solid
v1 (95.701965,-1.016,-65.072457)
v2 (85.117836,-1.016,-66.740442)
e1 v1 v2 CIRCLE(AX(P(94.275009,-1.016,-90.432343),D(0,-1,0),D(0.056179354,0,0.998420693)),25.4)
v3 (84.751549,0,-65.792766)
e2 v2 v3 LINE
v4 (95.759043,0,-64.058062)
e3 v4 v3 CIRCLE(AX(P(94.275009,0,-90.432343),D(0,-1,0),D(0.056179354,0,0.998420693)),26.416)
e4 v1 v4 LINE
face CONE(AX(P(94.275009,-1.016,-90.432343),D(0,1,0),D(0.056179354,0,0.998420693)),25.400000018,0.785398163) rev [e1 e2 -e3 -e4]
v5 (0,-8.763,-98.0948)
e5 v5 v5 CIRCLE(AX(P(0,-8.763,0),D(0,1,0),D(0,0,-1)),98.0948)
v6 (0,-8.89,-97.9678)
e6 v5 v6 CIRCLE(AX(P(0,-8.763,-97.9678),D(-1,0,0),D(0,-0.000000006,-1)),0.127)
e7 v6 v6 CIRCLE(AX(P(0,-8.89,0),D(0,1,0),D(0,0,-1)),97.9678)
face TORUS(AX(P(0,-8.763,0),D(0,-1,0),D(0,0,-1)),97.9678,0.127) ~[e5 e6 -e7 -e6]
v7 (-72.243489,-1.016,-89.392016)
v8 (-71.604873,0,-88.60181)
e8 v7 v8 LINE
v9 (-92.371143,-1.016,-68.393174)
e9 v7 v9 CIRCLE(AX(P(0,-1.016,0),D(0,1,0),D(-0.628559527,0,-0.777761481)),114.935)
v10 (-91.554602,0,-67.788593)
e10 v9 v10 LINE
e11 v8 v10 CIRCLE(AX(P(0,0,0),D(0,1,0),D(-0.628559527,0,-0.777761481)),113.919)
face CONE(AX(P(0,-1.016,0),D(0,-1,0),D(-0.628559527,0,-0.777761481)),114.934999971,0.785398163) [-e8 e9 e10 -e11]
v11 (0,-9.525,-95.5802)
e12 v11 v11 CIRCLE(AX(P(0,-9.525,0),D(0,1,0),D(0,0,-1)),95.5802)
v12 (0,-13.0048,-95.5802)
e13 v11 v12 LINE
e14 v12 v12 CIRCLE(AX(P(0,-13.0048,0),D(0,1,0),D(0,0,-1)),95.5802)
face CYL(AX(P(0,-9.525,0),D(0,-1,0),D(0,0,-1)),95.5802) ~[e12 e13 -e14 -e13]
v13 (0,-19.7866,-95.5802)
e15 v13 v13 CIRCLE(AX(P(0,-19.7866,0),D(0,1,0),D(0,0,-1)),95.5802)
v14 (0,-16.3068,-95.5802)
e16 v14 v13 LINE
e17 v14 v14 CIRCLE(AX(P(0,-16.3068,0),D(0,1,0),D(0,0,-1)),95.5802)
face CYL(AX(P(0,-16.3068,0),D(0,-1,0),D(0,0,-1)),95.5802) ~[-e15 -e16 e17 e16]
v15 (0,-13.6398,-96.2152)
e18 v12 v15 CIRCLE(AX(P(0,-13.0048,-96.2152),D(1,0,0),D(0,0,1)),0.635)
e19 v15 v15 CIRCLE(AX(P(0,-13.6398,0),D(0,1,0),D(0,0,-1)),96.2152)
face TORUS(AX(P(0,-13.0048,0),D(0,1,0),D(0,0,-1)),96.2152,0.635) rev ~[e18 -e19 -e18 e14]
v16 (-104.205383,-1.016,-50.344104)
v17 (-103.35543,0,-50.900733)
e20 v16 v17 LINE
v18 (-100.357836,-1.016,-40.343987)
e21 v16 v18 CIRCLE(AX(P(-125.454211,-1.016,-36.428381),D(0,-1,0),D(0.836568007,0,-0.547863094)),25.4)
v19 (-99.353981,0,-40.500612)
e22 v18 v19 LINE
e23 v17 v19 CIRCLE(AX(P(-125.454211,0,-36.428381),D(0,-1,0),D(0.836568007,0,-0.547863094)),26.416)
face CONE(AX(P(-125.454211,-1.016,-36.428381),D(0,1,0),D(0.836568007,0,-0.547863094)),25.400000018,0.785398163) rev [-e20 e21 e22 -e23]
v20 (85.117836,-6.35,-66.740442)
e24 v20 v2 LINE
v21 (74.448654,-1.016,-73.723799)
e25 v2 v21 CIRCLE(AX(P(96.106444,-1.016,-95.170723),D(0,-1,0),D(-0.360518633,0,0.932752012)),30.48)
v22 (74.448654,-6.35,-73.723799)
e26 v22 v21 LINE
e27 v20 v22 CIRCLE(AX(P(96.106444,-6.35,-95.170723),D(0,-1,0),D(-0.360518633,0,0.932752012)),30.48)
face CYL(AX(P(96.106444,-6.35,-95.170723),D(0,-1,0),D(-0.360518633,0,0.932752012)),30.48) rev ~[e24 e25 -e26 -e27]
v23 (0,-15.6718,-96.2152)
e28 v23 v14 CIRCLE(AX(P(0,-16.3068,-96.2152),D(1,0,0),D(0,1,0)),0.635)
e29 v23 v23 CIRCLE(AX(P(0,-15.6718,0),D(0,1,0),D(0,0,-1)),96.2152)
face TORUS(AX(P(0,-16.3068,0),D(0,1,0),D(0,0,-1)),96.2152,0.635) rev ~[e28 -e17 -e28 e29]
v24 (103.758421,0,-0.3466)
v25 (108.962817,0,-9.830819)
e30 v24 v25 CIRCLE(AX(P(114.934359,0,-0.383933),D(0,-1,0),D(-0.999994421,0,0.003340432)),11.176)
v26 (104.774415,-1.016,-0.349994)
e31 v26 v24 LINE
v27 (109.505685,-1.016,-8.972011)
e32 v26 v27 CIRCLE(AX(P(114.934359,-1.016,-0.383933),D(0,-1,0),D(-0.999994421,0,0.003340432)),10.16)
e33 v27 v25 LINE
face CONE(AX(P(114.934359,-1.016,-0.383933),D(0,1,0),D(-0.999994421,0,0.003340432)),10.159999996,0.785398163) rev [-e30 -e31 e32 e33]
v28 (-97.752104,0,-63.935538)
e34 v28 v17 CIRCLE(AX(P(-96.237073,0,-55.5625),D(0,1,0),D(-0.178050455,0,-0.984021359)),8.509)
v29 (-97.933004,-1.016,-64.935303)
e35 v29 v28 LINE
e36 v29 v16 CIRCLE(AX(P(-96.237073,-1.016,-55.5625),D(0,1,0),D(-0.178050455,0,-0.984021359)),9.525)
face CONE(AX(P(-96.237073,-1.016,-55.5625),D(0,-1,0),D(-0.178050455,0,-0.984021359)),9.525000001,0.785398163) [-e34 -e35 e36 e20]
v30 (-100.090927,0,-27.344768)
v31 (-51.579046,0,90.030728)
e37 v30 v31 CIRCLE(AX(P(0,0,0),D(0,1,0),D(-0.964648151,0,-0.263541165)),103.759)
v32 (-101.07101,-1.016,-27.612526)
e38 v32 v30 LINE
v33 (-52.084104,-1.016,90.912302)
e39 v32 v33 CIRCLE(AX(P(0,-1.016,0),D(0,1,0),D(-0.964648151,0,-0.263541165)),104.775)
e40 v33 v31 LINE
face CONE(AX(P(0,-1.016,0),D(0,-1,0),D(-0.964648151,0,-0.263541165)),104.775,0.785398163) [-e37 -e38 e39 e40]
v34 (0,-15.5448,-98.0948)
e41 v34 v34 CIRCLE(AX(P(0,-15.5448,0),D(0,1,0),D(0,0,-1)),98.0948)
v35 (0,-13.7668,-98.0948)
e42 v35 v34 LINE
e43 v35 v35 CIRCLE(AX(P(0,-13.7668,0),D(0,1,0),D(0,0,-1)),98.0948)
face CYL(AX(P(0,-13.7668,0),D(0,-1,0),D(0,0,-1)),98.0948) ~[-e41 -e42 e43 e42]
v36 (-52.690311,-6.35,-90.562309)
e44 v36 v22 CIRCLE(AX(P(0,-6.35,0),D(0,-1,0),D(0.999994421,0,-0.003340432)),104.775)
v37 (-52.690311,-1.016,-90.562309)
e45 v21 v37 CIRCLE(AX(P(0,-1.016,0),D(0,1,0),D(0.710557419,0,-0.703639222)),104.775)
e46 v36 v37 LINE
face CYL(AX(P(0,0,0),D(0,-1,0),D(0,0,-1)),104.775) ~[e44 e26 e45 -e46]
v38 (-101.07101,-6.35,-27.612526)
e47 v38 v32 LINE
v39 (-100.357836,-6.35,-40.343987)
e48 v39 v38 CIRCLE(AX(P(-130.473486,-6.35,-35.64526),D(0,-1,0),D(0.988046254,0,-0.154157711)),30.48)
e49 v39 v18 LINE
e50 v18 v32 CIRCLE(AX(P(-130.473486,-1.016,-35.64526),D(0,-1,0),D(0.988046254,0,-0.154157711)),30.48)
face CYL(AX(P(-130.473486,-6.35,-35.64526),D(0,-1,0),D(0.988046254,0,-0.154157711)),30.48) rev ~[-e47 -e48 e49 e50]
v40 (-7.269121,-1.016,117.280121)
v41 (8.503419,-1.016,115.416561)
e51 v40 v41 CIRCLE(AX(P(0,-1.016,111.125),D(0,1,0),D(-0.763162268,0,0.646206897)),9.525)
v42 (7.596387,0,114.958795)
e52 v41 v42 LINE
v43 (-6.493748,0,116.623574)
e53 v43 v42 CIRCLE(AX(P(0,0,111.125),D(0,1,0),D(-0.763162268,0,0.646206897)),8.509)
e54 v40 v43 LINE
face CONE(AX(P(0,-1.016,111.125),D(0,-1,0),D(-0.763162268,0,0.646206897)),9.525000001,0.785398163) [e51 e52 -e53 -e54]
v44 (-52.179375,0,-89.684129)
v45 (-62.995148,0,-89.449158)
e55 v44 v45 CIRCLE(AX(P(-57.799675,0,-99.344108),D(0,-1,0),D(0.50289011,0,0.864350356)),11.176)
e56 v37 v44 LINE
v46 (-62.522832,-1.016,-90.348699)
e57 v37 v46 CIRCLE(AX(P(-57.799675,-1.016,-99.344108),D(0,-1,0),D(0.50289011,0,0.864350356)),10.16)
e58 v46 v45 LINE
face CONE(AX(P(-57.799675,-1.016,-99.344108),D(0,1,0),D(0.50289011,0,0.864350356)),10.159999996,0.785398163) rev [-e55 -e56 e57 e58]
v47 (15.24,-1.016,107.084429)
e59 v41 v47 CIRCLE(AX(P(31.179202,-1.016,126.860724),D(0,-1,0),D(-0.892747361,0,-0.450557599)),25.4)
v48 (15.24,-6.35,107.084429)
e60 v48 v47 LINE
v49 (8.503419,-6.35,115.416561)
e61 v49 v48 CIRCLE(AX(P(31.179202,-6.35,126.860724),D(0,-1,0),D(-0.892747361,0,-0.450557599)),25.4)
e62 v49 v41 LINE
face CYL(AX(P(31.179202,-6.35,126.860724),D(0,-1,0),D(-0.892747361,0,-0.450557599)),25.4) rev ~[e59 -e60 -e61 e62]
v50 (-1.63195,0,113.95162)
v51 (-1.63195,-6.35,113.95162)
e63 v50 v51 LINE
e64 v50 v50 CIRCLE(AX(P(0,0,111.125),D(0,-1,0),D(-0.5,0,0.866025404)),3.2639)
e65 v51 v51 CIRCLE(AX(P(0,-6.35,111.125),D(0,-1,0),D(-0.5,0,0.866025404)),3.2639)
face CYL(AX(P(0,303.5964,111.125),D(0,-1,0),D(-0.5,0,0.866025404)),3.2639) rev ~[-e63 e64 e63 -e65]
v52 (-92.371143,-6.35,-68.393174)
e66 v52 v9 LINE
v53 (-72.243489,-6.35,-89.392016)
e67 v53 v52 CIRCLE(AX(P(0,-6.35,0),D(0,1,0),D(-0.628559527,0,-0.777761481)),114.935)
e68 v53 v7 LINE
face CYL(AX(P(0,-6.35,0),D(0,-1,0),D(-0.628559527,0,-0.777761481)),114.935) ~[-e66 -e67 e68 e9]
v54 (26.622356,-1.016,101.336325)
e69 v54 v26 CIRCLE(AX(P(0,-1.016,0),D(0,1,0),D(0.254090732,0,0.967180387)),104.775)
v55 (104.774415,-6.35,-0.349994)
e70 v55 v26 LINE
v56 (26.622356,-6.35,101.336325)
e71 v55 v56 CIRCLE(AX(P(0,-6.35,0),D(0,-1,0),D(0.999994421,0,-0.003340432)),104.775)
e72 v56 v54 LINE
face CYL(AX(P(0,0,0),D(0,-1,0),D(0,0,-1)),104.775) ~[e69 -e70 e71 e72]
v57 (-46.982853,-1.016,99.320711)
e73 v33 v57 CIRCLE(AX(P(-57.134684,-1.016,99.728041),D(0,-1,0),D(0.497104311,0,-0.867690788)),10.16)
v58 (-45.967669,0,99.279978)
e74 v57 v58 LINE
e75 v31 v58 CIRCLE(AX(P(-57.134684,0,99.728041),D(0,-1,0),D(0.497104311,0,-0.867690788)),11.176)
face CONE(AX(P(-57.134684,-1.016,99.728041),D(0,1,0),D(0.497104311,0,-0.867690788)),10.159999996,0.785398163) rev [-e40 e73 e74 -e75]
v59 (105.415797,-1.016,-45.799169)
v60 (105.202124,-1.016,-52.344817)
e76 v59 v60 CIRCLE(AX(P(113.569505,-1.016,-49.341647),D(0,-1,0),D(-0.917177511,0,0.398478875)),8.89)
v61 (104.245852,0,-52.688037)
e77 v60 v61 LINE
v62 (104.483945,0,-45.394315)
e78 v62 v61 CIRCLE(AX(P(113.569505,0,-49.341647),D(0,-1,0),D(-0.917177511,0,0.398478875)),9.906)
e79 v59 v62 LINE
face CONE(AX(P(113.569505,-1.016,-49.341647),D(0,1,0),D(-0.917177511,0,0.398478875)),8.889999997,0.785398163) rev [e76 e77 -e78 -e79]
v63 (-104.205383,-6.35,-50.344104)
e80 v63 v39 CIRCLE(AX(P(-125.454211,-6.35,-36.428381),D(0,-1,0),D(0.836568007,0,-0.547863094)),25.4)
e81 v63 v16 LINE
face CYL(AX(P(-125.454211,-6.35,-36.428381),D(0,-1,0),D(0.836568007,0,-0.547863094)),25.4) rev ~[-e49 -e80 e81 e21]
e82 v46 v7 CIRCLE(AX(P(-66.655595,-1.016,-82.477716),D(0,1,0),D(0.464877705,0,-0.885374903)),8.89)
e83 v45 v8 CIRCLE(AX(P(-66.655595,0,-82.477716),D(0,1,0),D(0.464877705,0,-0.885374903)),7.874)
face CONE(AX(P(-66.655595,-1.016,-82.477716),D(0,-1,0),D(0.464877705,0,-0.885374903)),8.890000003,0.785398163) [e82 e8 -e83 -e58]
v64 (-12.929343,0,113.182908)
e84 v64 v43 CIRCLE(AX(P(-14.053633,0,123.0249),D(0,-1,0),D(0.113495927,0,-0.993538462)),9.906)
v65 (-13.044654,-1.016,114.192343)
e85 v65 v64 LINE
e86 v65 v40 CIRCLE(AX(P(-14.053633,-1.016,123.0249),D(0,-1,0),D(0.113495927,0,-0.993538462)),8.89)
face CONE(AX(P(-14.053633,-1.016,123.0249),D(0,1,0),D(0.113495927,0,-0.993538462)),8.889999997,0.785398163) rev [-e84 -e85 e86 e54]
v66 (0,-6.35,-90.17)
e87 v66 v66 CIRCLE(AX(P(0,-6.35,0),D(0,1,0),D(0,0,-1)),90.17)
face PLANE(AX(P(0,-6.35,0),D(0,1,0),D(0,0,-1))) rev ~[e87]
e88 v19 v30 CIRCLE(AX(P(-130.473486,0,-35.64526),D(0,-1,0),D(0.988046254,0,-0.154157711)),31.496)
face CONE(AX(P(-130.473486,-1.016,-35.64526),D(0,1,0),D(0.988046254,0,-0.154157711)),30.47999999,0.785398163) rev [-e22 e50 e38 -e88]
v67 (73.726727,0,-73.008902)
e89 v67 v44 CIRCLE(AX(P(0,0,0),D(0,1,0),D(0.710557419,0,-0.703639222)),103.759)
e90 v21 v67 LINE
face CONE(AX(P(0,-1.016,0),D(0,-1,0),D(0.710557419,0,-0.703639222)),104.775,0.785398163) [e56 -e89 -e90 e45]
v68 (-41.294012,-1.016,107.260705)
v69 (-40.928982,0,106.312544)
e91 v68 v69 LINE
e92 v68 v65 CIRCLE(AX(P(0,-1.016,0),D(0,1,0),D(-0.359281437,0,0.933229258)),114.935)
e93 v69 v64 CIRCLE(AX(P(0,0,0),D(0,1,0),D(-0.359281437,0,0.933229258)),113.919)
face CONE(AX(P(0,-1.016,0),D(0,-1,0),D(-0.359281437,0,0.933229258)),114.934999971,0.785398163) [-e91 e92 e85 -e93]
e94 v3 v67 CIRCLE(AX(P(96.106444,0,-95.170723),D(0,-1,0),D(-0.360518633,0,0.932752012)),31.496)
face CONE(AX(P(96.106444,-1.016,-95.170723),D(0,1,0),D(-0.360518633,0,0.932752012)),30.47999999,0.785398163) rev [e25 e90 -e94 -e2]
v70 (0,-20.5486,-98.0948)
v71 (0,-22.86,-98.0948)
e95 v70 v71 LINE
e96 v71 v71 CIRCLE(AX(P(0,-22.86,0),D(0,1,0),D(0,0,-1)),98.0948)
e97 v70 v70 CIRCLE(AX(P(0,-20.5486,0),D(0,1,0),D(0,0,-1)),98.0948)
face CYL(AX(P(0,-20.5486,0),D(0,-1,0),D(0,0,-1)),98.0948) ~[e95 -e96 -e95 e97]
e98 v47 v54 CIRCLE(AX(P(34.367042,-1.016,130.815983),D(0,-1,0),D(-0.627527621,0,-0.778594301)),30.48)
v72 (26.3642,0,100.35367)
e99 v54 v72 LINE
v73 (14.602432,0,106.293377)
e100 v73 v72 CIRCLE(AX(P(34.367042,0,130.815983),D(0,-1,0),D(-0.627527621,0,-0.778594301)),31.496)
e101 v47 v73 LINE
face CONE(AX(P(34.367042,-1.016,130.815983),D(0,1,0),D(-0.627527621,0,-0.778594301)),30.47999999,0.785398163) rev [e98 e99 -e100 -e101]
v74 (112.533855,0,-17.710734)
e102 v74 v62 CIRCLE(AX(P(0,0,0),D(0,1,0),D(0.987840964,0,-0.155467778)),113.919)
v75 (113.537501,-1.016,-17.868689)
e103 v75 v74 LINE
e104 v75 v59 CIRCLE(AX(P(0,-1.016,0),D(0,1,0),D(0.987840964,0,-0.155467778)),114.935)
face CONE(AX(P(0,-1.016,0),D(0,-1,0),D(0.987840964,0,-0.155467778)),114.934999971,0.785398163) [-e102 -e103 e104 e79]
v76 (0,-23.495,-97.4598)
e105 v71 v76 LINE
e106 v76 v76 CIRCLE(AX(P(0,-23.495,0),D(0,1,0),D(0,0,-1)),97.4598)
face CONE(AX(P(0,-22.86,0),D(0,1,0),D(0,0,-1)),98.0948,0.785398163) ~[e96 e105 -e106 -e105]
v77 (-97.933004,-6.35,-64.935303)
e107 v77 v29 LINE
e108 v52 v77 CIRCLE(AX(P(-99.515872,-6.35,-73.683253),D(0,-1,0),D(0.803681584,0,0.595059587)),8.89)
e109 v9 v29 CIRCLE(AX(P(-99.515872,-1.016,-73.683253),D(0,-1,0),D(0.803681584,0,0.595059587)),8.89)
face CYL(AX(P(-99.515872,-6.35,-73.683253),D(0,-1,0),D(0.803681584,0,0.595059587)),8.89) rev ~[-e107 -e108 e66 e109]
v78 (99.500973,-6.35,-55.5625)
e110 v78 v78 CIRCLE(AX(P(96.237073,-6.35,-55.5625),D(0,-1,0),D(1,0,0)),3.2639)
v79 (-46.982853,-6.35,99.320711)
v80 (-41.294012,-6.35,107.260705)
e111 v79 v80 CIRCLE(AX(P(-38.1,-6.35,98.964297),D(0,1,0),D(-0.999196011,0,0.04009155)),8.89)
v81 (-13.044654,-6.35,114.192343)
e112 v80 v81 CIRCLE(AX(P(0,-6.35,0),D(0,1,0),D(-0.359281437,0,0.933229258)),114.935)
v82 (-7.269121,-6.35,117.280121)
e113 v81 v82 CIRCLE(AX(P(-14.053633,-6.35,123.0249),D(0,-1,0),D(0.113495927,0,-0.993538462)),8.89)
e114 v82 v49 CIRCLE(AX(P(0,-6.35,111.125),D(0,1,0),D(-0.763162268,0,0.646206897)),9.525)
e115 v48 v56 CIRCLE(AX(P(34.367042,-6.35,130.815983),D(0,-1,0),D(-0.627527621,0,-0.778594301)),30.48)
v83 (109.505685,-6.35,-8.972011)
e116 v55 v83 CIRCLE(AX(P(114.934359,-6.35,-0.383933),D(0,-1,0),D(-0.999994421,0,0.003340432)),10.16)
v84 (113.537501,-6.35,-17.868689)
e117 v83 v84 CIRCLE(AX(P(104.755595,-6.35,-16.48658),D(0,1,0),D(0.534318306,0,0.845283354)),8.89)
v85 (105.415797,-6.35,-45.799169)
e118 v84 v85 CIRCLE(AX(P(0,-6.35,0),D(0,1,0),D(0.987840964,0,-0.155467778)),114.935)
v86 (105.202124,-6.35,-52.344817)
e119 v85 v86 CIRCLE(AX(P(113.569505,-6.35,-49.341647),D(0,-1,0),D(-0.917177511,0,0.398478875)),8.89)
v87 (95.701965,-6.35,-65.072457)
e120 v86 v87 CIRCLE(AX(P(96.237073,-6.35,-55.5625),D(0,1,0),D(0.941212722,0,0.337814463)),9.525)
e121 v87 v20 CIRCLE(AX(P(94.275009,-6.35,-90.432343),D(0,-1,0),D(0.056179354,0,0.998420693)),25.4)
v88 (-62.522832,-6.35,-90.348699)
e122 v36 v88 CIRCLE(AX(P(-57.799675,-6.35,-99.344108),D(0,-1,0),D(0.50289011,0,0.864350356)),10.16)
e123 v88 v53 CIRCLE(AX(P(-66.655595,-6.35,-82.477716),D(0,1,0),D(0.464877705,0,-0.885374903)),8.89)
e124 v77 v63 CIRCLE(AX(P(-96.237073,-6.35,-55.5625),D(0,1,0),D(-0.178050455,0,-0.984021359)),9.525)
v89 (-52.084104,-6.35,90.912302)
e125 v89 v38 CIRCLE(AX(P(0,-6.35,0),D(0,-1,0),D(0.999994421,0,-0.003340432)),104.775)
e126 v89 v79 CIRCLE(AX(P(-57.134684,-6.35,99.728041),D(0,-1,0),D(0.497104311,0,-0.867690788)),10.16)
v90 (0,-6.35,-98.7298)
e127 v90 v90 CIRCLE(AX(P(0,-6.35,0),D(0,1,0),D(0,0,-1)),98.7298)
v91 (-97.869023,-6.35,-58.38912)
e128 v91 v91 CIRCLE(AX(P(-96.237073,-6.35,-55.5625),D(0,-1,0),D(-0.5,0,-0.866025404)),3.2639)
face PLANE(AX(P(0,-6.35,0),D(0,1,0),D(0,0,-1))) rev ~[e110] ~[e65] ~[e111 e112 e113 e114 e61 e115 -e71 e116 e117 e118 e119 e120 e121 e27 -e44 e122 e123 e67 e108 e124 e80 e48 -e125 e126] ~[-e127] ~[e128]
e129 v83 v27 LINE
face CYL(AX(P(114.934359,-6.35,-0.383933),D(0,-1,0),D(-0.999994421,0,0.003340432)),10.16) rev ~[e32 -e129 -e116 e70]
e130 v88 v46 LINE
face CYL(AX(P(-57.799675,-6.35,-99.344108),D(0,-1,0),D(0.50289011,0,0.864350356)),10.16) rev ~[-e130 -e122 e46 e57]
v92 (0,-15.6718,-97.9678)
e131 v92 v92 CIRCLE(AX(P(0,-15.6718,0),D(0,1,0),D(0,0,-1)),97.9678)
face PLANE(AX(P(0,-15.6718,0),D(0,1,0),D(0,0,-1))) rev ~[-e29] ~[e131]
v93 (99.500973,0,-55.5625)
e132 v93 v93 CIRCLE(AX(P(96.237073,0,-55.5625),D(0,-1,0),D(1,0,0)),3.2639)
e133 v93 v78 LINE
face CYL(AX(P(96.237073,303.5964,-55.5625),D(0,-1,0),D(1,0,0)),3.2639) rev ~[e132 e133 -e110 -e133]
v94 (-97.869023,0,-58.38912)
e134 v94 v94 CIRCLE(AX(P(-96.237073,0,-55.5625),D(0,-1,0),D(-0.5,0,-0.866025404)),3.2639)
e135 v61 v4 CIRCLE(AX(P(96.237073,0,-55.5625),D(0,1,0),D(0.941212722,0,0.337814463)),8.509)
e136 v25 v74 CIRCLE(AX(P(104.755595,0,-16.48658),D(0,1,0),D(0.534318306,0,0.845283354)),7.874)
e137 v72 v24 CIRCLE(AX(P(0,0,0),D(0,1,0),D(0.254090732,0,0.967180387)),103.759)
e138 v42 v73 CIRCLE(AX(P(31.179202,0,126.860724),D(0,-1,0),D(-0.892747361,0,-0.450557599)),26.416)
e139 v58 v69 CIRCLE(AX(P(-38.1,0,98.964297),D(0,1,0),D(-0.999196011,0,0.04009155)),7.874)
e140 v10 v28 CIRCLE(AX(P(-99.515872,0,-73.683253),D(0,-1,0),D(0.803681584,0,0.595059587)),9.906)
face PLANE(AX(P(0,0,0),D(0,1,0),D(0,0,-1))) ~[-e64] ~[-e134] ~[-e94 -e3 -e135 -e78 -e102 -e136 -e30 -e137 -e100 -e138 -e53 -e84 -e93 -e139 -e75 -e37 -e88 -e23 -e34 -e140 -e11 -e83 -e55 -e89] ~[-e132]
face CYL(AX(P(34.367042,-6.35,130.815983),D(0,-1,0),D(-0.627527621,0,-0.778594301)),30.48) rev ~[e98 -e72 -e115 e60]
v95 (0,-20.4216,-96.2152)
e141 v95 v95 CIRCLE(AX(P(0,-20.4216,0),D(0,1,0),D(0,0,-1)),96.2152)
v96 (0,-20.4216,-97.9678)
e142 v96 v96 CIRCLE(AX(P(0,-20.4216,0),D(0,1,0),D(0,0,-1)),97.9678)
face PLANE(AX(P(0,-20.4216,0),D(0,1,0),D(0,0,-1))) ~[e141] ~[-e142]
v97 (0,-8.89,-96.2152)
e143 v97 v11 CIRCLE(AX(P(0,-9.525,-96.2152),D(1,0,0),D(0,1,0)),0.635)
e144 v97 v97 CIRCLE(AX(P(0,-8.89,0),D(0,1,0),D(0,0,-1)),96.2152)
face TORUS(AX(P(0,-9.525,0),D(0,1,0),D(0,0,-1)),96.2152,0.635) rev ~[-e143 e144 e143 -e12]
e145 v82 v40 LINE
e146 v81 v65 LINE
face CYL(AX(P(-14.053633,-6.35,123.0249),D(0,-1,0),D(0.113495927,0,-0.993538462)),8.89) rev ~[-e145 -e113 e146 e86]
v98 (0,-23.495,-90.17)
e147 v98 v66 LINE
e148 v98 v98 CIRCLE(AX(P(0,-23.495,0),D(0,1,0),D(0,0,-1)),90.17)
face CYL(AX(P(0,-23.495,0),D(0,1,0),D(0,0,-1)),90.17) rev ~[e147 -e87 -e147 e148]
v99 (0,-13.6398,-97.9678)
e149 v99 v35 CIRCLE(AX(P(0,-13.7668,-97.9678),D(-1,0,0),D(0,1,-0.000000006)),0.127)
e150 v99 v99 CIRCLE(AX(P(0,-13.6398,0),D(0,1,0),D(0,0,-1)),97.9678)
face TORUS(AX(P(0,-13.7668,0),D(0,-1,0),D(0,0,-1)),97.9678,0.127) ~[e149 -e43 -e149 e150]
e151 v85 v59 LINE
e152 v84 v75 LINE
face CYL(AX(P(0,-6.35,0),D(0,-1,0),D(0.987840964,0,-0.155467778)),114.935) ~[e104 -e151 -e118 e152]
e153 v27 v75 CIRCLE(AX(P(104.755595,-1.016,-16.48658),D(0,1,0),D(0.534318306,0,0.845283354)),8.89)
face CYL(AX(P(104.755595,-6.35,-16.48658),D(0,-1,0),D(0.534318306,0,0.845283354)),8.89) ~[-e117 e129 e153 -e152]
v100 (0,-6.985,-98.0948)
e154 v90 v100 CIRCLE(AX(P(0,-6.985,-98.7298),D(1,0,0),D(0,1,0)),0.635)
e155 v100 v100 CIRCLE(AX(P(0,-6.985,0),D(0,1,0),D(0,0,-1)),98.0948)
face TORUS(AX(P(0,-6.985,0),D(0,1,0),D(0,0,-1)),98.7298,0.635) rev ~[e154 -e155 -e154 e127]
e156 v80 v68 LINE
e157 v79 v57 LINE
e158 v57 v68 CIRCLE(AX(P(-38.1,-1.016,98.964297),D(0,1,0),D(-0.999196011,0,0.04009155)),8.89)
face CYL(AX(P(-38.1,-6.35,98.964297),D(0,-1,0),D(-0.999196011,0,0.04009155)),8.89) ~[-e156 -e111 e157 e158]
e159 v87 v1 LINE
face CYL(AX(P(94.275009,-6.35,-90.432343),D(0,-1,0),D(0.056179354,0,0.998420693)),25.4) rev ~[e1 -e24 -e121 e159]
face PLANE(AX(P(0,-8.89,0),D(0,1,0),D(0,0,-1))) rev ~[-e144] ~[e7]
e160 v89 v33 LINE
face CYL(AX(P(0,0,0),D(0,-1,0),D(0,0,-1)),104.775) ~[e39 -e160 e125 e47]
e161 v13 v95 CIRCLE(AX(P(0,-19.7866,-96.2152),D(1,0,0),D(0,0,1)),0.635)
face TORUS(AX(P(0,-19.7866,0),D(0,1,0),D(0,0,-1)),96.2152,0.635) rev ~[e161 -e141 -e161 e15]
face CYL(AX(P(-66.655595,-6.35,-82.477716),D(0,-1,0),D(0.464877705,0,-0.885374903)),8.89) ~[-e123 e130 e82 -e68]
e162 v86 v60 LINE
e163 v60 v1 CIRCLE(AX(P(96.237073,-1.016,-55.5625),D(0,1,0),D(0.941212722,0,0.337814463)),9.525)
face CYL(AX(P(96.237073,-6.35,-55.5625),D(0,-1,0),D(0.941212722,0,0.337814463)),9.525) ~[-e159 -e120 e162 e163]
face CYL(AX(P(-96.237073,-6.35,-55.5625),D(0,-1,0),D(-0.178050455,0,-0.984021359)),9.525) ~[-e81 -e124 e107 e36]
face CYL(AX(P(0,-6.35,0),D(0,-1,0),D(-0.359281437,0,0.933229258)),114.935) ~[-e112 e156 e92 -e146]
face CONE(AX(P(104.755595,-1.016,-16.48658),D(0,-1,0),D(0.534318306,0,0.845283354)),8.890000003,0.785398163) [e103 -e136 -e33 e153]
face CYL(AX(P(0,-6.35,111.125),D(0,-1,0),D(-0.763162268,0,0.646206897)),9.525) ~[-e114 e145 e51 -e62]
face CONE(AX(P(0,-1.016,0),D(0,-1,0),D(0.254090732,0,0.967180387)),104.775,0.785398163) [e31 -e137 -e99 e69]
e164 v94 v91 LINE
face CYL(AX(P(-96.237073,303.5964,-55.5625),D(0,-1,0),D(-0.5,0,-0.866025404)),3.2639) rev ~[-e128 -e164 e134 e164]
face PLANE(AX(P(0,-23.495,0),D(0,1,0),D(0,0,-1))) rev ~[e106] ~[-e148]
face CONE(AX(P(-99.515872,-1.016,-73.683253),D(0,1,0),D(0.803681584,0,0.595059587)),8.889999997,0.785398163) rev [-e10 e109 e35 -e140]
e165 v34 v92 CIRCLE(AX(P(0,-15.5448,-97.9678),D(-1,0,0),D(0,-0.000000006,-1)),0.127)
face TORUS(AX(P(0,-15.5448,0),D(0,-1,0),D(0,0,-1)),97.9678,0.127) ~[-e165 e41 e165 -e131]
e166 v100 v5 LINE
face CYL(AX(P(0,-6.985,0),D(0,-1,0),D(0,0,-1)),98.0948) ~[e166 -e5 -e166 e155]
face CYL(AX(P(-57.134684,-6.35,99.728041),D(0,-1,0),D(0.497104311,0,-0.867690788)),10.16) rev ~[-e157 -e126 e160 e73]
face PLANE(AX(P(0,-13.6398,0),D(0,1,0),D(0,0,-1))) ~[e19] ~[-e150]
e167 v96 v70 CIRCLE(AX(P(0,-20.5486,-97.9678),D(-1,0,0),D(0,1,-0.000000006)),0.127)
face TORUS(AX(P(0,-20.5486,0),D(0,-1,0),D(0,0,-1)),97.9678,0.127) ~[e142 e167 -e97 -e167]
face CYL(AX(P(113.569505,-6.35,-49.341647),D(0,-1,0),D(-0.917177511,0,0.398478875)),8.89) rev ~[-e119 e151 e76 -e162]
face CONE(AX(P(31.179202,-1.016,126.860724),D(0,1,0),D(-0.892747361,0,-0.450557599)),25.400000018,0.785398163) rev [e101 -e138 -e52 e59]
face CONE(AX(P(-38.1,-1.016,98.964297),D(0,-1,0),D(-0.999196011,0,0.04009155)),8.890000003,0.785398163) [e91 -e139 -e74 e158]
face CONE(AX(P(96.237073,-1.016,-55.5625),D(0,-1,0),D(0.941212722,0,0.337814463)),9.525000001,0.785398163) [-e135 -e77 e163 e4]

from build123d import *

# Parameters (mm, degrees)
CHAMFER1_SIZE           = 0.635
BOSS_EXTRUDE2_START     = -6.35
BOSS_EXTRUDE2_DEPTH     = 6.35
F_1_4_CLEARANCE_HOLE1_D = 6.5278
CIRPATTERN2_COUNT       = 3
CHAMFER2_SIZE           = 1.016


with BuildPart() as part:
    # Sketch1 → Revolve1 (revolve)
    with BuildSketch(Plane.XY, mode=Mode.PRIVATE) as revolve1_sk:
        with BuildLine():
            Line((0, 0), (-104.775, 0))
            Line((-104.775, 0), (-104.775, -6.35))
            Line((-104.775, -6.35), (-98.7298, -6.35))
            ThreePointArc((-98.7298, -6.35), (-98.280787194, -6.535987194), (-98.0948, -6.985))
            Line((-98.0948, -6.985), (-98.0948, -8.763))
            ThreePointArc((-98.0948, -8.763), (-98.057602561, -8.852802561), (-97.9678, -8.89))
            Line((-97.9678, -8.89), (-96.2152, -8.89))
            ThreePointArc((-96.2152, -8.89), (-95.766187194, -9.075987194), (-95.5802, -9.525))
            Line((-95.5802, -9.525), (-95.5802, -13.0048))
            ThreePointArc((-95.5802, -13.0048), (-95.766187194, -13.453812806), (-96.2152, -13.6398))
            Line((-96.2152, -13.6398), (-97.9678, -13.6398))
            ThreePointArc((-97.9678, -13.6398), (-98.057602561, -13.676997439), (-98.0948, -13.7668))
            Line((-98.0948, -13.7668), (-98.0948, -15.5448))
            ThreePointArc((-98.0948, -15.5448), (-98.057602561, -15.634602561), (-97.9678, -15.6718))
            Line((-97.9678, -15.6718), (-96.2152, -15.6718))
            ThreePointArc((-96.2152, -15.6718), (-95.766187194, -15.857787194), (-95.5802, -16.3068))
            Line((-95.5802, -16.3068), (-95.5802, -19.7866))
            ThreePointArc((-95.5802, -19.7866), (-95.766187194, -20.235612806), (-96.2152, -20.4216))
            Line((-96.2152, -20.4216), (-97.9678, -20.4216))
            ThreePointArc((-97.9678, -20.4216), (-98.057602561, -20.458797439), (-98.0948, -20.5486))
            Line((-98.0948, -20.5486), (-98.0948, -23.495))
            Line((-98.0948, -23.495), (-90.17, -23.495))
            Line((-90.17, -23.495), (-90.17, -6.35))
            Line((-90.17, -6.35), (0, -6.35))
            Line((0, -6.35), (0, 0))
        make_face()
    revolve(revolve1_sk.sketch.rotate(Axis((0, 0, 0), (0, 1, 0)), 270), axis=Axis((0, 0, 0), (0, 1, 0)))

    # Chamfer1
    chamfer1_edges = [part.edges().sort_by_distance(p)[0] for p in [
        (0, -23.495, 98.0948),
    ]]
    chamfer(chamfer1_edges, length=CHAMFER1_SIZE)

    # Sketch3 → Boss-Extrude2 (add)
    with BuildSketch(Plane(origin=(0, 0, 0), x_dir=(1, 0, 0), z_dir=(0, 1, 0)).offset(BOSS_EXTRUDE2_START)):
        with BuildLine():
            ThreePointArc((105.202124176, 52.344817242), (103.870171196, 61.25999391), (95.701964649, 65.072457101))
            ThreePointArc((95.701964649, 65.072457101), (90.320946661, 65.341998135), (85.117835782, 66.740441606))
            ThreePointArc((85.117835782, 66.740441606), (79.41397091, 69.667943629), (74.448653582, 73.723799447))
            ThreePointArc((74.448653582, 73.723799447), (96.830552801, 40.020553084), (104.774415433, 0.349993792))
            ThreePointArc((104.774415433, 0.349993792), (106.027280411, 5.271626878), (109.505684763, 8.972011459))
            ThreePointArc((109.505684763, 8.972011459), (112.852906073, 12.817022763), (113.537501196, 17.868689018))
            ThreePointArc((113.537501196, 17.868689018), (110.363783258, 32.091892591), (105.415797207, 45.799169471))
            ThreePointArc((105.415797207, 45.799169471), (104.684238087, 49.051600208), (105.202124176, 52.344817242))
        make_face()
    boss_extrude2 = extrude(amount=BOSS_EXTRUDE2_DEPTH)

    # 1/4 Clearance Hole1 (through all)
    with Locations(Plane(origin=(0, 0, 0), x_dir=(-1, 0, 0), z_dir=(0, 1, 0))):
        with Locations((-96.237072996, -55.5625)):
            f_1_4_clearance_hole1 = Hole(F_1_4_CLEARANCE_HOLE1_D / 2)

    # CirPattern2: Boss-Extrude2, 1/4 Clearance Hole1 ×3 about axis
    cirpattern2_axis = Axis((0, 0, 0), (0, 1, 0))
    add([boss_extrude2.rotate(cirpattern2_axis, i * 360 / CIRPATTERN2_COUNT) for i in range(1, CIRPATTERN2_COUNT)])
    add([f_1_4_clearance_hole1.rotate(cirpattern2_axis, i * 360 / CIRPATTERN2_COUNT) for i in range(1, CIRPATTERN2_COUNT)], mode=Mode.SUBTRACT)

    # Chamfer2
    chamfer2_edges = [part.edges().sort_by_distance(p)[0] for p in [
        (-57.579003001, 0, -89.186504891),
        (-67.526320351, 0, -91.324972169),
        (-82.974285868, 0, -79.531893663),
        (-94.82205092, 0, -66.133409456),
        (-104.98779656, 0, -59.324209996),
        (-101.748303649, 0, -45.549235235),
        (-100.041194467, 0, -33.940544408),
        (83.074092045, 0, 63.847442046),
        (106.027280411, 0, -5.271626878),
        (112.852906073, 0, -12.817022763),
        (110.363783258, 0, -32.091892591),
        (104.684238087, 0, -49.051600208),
        (103.870171196, 0, -61.25999391),
        (90.320946661, 0, -65.341998135),
        (79.41397091, 0, -69.667943629),
        (-96.830552801, 0, 40.020553084),
        (-48.44827741, 0, 94.458131769),
        (-45.326585723, 0, 104.141994932),
        (-27.389497389, 0, 111.623786254),
        (-9.862187168, 0, 115.185009663),
        (1.117625364, 0, 120.584203907),
        (11.427356988, 0, 110.891233369),
        (20.627223558, 0, 103.608488038),
        (13.756460756, 0, -103.867995131),
    ]]
    chamfer(chamfer2_edges, length=CHAMFER2_SIZE)


solid = part.part
